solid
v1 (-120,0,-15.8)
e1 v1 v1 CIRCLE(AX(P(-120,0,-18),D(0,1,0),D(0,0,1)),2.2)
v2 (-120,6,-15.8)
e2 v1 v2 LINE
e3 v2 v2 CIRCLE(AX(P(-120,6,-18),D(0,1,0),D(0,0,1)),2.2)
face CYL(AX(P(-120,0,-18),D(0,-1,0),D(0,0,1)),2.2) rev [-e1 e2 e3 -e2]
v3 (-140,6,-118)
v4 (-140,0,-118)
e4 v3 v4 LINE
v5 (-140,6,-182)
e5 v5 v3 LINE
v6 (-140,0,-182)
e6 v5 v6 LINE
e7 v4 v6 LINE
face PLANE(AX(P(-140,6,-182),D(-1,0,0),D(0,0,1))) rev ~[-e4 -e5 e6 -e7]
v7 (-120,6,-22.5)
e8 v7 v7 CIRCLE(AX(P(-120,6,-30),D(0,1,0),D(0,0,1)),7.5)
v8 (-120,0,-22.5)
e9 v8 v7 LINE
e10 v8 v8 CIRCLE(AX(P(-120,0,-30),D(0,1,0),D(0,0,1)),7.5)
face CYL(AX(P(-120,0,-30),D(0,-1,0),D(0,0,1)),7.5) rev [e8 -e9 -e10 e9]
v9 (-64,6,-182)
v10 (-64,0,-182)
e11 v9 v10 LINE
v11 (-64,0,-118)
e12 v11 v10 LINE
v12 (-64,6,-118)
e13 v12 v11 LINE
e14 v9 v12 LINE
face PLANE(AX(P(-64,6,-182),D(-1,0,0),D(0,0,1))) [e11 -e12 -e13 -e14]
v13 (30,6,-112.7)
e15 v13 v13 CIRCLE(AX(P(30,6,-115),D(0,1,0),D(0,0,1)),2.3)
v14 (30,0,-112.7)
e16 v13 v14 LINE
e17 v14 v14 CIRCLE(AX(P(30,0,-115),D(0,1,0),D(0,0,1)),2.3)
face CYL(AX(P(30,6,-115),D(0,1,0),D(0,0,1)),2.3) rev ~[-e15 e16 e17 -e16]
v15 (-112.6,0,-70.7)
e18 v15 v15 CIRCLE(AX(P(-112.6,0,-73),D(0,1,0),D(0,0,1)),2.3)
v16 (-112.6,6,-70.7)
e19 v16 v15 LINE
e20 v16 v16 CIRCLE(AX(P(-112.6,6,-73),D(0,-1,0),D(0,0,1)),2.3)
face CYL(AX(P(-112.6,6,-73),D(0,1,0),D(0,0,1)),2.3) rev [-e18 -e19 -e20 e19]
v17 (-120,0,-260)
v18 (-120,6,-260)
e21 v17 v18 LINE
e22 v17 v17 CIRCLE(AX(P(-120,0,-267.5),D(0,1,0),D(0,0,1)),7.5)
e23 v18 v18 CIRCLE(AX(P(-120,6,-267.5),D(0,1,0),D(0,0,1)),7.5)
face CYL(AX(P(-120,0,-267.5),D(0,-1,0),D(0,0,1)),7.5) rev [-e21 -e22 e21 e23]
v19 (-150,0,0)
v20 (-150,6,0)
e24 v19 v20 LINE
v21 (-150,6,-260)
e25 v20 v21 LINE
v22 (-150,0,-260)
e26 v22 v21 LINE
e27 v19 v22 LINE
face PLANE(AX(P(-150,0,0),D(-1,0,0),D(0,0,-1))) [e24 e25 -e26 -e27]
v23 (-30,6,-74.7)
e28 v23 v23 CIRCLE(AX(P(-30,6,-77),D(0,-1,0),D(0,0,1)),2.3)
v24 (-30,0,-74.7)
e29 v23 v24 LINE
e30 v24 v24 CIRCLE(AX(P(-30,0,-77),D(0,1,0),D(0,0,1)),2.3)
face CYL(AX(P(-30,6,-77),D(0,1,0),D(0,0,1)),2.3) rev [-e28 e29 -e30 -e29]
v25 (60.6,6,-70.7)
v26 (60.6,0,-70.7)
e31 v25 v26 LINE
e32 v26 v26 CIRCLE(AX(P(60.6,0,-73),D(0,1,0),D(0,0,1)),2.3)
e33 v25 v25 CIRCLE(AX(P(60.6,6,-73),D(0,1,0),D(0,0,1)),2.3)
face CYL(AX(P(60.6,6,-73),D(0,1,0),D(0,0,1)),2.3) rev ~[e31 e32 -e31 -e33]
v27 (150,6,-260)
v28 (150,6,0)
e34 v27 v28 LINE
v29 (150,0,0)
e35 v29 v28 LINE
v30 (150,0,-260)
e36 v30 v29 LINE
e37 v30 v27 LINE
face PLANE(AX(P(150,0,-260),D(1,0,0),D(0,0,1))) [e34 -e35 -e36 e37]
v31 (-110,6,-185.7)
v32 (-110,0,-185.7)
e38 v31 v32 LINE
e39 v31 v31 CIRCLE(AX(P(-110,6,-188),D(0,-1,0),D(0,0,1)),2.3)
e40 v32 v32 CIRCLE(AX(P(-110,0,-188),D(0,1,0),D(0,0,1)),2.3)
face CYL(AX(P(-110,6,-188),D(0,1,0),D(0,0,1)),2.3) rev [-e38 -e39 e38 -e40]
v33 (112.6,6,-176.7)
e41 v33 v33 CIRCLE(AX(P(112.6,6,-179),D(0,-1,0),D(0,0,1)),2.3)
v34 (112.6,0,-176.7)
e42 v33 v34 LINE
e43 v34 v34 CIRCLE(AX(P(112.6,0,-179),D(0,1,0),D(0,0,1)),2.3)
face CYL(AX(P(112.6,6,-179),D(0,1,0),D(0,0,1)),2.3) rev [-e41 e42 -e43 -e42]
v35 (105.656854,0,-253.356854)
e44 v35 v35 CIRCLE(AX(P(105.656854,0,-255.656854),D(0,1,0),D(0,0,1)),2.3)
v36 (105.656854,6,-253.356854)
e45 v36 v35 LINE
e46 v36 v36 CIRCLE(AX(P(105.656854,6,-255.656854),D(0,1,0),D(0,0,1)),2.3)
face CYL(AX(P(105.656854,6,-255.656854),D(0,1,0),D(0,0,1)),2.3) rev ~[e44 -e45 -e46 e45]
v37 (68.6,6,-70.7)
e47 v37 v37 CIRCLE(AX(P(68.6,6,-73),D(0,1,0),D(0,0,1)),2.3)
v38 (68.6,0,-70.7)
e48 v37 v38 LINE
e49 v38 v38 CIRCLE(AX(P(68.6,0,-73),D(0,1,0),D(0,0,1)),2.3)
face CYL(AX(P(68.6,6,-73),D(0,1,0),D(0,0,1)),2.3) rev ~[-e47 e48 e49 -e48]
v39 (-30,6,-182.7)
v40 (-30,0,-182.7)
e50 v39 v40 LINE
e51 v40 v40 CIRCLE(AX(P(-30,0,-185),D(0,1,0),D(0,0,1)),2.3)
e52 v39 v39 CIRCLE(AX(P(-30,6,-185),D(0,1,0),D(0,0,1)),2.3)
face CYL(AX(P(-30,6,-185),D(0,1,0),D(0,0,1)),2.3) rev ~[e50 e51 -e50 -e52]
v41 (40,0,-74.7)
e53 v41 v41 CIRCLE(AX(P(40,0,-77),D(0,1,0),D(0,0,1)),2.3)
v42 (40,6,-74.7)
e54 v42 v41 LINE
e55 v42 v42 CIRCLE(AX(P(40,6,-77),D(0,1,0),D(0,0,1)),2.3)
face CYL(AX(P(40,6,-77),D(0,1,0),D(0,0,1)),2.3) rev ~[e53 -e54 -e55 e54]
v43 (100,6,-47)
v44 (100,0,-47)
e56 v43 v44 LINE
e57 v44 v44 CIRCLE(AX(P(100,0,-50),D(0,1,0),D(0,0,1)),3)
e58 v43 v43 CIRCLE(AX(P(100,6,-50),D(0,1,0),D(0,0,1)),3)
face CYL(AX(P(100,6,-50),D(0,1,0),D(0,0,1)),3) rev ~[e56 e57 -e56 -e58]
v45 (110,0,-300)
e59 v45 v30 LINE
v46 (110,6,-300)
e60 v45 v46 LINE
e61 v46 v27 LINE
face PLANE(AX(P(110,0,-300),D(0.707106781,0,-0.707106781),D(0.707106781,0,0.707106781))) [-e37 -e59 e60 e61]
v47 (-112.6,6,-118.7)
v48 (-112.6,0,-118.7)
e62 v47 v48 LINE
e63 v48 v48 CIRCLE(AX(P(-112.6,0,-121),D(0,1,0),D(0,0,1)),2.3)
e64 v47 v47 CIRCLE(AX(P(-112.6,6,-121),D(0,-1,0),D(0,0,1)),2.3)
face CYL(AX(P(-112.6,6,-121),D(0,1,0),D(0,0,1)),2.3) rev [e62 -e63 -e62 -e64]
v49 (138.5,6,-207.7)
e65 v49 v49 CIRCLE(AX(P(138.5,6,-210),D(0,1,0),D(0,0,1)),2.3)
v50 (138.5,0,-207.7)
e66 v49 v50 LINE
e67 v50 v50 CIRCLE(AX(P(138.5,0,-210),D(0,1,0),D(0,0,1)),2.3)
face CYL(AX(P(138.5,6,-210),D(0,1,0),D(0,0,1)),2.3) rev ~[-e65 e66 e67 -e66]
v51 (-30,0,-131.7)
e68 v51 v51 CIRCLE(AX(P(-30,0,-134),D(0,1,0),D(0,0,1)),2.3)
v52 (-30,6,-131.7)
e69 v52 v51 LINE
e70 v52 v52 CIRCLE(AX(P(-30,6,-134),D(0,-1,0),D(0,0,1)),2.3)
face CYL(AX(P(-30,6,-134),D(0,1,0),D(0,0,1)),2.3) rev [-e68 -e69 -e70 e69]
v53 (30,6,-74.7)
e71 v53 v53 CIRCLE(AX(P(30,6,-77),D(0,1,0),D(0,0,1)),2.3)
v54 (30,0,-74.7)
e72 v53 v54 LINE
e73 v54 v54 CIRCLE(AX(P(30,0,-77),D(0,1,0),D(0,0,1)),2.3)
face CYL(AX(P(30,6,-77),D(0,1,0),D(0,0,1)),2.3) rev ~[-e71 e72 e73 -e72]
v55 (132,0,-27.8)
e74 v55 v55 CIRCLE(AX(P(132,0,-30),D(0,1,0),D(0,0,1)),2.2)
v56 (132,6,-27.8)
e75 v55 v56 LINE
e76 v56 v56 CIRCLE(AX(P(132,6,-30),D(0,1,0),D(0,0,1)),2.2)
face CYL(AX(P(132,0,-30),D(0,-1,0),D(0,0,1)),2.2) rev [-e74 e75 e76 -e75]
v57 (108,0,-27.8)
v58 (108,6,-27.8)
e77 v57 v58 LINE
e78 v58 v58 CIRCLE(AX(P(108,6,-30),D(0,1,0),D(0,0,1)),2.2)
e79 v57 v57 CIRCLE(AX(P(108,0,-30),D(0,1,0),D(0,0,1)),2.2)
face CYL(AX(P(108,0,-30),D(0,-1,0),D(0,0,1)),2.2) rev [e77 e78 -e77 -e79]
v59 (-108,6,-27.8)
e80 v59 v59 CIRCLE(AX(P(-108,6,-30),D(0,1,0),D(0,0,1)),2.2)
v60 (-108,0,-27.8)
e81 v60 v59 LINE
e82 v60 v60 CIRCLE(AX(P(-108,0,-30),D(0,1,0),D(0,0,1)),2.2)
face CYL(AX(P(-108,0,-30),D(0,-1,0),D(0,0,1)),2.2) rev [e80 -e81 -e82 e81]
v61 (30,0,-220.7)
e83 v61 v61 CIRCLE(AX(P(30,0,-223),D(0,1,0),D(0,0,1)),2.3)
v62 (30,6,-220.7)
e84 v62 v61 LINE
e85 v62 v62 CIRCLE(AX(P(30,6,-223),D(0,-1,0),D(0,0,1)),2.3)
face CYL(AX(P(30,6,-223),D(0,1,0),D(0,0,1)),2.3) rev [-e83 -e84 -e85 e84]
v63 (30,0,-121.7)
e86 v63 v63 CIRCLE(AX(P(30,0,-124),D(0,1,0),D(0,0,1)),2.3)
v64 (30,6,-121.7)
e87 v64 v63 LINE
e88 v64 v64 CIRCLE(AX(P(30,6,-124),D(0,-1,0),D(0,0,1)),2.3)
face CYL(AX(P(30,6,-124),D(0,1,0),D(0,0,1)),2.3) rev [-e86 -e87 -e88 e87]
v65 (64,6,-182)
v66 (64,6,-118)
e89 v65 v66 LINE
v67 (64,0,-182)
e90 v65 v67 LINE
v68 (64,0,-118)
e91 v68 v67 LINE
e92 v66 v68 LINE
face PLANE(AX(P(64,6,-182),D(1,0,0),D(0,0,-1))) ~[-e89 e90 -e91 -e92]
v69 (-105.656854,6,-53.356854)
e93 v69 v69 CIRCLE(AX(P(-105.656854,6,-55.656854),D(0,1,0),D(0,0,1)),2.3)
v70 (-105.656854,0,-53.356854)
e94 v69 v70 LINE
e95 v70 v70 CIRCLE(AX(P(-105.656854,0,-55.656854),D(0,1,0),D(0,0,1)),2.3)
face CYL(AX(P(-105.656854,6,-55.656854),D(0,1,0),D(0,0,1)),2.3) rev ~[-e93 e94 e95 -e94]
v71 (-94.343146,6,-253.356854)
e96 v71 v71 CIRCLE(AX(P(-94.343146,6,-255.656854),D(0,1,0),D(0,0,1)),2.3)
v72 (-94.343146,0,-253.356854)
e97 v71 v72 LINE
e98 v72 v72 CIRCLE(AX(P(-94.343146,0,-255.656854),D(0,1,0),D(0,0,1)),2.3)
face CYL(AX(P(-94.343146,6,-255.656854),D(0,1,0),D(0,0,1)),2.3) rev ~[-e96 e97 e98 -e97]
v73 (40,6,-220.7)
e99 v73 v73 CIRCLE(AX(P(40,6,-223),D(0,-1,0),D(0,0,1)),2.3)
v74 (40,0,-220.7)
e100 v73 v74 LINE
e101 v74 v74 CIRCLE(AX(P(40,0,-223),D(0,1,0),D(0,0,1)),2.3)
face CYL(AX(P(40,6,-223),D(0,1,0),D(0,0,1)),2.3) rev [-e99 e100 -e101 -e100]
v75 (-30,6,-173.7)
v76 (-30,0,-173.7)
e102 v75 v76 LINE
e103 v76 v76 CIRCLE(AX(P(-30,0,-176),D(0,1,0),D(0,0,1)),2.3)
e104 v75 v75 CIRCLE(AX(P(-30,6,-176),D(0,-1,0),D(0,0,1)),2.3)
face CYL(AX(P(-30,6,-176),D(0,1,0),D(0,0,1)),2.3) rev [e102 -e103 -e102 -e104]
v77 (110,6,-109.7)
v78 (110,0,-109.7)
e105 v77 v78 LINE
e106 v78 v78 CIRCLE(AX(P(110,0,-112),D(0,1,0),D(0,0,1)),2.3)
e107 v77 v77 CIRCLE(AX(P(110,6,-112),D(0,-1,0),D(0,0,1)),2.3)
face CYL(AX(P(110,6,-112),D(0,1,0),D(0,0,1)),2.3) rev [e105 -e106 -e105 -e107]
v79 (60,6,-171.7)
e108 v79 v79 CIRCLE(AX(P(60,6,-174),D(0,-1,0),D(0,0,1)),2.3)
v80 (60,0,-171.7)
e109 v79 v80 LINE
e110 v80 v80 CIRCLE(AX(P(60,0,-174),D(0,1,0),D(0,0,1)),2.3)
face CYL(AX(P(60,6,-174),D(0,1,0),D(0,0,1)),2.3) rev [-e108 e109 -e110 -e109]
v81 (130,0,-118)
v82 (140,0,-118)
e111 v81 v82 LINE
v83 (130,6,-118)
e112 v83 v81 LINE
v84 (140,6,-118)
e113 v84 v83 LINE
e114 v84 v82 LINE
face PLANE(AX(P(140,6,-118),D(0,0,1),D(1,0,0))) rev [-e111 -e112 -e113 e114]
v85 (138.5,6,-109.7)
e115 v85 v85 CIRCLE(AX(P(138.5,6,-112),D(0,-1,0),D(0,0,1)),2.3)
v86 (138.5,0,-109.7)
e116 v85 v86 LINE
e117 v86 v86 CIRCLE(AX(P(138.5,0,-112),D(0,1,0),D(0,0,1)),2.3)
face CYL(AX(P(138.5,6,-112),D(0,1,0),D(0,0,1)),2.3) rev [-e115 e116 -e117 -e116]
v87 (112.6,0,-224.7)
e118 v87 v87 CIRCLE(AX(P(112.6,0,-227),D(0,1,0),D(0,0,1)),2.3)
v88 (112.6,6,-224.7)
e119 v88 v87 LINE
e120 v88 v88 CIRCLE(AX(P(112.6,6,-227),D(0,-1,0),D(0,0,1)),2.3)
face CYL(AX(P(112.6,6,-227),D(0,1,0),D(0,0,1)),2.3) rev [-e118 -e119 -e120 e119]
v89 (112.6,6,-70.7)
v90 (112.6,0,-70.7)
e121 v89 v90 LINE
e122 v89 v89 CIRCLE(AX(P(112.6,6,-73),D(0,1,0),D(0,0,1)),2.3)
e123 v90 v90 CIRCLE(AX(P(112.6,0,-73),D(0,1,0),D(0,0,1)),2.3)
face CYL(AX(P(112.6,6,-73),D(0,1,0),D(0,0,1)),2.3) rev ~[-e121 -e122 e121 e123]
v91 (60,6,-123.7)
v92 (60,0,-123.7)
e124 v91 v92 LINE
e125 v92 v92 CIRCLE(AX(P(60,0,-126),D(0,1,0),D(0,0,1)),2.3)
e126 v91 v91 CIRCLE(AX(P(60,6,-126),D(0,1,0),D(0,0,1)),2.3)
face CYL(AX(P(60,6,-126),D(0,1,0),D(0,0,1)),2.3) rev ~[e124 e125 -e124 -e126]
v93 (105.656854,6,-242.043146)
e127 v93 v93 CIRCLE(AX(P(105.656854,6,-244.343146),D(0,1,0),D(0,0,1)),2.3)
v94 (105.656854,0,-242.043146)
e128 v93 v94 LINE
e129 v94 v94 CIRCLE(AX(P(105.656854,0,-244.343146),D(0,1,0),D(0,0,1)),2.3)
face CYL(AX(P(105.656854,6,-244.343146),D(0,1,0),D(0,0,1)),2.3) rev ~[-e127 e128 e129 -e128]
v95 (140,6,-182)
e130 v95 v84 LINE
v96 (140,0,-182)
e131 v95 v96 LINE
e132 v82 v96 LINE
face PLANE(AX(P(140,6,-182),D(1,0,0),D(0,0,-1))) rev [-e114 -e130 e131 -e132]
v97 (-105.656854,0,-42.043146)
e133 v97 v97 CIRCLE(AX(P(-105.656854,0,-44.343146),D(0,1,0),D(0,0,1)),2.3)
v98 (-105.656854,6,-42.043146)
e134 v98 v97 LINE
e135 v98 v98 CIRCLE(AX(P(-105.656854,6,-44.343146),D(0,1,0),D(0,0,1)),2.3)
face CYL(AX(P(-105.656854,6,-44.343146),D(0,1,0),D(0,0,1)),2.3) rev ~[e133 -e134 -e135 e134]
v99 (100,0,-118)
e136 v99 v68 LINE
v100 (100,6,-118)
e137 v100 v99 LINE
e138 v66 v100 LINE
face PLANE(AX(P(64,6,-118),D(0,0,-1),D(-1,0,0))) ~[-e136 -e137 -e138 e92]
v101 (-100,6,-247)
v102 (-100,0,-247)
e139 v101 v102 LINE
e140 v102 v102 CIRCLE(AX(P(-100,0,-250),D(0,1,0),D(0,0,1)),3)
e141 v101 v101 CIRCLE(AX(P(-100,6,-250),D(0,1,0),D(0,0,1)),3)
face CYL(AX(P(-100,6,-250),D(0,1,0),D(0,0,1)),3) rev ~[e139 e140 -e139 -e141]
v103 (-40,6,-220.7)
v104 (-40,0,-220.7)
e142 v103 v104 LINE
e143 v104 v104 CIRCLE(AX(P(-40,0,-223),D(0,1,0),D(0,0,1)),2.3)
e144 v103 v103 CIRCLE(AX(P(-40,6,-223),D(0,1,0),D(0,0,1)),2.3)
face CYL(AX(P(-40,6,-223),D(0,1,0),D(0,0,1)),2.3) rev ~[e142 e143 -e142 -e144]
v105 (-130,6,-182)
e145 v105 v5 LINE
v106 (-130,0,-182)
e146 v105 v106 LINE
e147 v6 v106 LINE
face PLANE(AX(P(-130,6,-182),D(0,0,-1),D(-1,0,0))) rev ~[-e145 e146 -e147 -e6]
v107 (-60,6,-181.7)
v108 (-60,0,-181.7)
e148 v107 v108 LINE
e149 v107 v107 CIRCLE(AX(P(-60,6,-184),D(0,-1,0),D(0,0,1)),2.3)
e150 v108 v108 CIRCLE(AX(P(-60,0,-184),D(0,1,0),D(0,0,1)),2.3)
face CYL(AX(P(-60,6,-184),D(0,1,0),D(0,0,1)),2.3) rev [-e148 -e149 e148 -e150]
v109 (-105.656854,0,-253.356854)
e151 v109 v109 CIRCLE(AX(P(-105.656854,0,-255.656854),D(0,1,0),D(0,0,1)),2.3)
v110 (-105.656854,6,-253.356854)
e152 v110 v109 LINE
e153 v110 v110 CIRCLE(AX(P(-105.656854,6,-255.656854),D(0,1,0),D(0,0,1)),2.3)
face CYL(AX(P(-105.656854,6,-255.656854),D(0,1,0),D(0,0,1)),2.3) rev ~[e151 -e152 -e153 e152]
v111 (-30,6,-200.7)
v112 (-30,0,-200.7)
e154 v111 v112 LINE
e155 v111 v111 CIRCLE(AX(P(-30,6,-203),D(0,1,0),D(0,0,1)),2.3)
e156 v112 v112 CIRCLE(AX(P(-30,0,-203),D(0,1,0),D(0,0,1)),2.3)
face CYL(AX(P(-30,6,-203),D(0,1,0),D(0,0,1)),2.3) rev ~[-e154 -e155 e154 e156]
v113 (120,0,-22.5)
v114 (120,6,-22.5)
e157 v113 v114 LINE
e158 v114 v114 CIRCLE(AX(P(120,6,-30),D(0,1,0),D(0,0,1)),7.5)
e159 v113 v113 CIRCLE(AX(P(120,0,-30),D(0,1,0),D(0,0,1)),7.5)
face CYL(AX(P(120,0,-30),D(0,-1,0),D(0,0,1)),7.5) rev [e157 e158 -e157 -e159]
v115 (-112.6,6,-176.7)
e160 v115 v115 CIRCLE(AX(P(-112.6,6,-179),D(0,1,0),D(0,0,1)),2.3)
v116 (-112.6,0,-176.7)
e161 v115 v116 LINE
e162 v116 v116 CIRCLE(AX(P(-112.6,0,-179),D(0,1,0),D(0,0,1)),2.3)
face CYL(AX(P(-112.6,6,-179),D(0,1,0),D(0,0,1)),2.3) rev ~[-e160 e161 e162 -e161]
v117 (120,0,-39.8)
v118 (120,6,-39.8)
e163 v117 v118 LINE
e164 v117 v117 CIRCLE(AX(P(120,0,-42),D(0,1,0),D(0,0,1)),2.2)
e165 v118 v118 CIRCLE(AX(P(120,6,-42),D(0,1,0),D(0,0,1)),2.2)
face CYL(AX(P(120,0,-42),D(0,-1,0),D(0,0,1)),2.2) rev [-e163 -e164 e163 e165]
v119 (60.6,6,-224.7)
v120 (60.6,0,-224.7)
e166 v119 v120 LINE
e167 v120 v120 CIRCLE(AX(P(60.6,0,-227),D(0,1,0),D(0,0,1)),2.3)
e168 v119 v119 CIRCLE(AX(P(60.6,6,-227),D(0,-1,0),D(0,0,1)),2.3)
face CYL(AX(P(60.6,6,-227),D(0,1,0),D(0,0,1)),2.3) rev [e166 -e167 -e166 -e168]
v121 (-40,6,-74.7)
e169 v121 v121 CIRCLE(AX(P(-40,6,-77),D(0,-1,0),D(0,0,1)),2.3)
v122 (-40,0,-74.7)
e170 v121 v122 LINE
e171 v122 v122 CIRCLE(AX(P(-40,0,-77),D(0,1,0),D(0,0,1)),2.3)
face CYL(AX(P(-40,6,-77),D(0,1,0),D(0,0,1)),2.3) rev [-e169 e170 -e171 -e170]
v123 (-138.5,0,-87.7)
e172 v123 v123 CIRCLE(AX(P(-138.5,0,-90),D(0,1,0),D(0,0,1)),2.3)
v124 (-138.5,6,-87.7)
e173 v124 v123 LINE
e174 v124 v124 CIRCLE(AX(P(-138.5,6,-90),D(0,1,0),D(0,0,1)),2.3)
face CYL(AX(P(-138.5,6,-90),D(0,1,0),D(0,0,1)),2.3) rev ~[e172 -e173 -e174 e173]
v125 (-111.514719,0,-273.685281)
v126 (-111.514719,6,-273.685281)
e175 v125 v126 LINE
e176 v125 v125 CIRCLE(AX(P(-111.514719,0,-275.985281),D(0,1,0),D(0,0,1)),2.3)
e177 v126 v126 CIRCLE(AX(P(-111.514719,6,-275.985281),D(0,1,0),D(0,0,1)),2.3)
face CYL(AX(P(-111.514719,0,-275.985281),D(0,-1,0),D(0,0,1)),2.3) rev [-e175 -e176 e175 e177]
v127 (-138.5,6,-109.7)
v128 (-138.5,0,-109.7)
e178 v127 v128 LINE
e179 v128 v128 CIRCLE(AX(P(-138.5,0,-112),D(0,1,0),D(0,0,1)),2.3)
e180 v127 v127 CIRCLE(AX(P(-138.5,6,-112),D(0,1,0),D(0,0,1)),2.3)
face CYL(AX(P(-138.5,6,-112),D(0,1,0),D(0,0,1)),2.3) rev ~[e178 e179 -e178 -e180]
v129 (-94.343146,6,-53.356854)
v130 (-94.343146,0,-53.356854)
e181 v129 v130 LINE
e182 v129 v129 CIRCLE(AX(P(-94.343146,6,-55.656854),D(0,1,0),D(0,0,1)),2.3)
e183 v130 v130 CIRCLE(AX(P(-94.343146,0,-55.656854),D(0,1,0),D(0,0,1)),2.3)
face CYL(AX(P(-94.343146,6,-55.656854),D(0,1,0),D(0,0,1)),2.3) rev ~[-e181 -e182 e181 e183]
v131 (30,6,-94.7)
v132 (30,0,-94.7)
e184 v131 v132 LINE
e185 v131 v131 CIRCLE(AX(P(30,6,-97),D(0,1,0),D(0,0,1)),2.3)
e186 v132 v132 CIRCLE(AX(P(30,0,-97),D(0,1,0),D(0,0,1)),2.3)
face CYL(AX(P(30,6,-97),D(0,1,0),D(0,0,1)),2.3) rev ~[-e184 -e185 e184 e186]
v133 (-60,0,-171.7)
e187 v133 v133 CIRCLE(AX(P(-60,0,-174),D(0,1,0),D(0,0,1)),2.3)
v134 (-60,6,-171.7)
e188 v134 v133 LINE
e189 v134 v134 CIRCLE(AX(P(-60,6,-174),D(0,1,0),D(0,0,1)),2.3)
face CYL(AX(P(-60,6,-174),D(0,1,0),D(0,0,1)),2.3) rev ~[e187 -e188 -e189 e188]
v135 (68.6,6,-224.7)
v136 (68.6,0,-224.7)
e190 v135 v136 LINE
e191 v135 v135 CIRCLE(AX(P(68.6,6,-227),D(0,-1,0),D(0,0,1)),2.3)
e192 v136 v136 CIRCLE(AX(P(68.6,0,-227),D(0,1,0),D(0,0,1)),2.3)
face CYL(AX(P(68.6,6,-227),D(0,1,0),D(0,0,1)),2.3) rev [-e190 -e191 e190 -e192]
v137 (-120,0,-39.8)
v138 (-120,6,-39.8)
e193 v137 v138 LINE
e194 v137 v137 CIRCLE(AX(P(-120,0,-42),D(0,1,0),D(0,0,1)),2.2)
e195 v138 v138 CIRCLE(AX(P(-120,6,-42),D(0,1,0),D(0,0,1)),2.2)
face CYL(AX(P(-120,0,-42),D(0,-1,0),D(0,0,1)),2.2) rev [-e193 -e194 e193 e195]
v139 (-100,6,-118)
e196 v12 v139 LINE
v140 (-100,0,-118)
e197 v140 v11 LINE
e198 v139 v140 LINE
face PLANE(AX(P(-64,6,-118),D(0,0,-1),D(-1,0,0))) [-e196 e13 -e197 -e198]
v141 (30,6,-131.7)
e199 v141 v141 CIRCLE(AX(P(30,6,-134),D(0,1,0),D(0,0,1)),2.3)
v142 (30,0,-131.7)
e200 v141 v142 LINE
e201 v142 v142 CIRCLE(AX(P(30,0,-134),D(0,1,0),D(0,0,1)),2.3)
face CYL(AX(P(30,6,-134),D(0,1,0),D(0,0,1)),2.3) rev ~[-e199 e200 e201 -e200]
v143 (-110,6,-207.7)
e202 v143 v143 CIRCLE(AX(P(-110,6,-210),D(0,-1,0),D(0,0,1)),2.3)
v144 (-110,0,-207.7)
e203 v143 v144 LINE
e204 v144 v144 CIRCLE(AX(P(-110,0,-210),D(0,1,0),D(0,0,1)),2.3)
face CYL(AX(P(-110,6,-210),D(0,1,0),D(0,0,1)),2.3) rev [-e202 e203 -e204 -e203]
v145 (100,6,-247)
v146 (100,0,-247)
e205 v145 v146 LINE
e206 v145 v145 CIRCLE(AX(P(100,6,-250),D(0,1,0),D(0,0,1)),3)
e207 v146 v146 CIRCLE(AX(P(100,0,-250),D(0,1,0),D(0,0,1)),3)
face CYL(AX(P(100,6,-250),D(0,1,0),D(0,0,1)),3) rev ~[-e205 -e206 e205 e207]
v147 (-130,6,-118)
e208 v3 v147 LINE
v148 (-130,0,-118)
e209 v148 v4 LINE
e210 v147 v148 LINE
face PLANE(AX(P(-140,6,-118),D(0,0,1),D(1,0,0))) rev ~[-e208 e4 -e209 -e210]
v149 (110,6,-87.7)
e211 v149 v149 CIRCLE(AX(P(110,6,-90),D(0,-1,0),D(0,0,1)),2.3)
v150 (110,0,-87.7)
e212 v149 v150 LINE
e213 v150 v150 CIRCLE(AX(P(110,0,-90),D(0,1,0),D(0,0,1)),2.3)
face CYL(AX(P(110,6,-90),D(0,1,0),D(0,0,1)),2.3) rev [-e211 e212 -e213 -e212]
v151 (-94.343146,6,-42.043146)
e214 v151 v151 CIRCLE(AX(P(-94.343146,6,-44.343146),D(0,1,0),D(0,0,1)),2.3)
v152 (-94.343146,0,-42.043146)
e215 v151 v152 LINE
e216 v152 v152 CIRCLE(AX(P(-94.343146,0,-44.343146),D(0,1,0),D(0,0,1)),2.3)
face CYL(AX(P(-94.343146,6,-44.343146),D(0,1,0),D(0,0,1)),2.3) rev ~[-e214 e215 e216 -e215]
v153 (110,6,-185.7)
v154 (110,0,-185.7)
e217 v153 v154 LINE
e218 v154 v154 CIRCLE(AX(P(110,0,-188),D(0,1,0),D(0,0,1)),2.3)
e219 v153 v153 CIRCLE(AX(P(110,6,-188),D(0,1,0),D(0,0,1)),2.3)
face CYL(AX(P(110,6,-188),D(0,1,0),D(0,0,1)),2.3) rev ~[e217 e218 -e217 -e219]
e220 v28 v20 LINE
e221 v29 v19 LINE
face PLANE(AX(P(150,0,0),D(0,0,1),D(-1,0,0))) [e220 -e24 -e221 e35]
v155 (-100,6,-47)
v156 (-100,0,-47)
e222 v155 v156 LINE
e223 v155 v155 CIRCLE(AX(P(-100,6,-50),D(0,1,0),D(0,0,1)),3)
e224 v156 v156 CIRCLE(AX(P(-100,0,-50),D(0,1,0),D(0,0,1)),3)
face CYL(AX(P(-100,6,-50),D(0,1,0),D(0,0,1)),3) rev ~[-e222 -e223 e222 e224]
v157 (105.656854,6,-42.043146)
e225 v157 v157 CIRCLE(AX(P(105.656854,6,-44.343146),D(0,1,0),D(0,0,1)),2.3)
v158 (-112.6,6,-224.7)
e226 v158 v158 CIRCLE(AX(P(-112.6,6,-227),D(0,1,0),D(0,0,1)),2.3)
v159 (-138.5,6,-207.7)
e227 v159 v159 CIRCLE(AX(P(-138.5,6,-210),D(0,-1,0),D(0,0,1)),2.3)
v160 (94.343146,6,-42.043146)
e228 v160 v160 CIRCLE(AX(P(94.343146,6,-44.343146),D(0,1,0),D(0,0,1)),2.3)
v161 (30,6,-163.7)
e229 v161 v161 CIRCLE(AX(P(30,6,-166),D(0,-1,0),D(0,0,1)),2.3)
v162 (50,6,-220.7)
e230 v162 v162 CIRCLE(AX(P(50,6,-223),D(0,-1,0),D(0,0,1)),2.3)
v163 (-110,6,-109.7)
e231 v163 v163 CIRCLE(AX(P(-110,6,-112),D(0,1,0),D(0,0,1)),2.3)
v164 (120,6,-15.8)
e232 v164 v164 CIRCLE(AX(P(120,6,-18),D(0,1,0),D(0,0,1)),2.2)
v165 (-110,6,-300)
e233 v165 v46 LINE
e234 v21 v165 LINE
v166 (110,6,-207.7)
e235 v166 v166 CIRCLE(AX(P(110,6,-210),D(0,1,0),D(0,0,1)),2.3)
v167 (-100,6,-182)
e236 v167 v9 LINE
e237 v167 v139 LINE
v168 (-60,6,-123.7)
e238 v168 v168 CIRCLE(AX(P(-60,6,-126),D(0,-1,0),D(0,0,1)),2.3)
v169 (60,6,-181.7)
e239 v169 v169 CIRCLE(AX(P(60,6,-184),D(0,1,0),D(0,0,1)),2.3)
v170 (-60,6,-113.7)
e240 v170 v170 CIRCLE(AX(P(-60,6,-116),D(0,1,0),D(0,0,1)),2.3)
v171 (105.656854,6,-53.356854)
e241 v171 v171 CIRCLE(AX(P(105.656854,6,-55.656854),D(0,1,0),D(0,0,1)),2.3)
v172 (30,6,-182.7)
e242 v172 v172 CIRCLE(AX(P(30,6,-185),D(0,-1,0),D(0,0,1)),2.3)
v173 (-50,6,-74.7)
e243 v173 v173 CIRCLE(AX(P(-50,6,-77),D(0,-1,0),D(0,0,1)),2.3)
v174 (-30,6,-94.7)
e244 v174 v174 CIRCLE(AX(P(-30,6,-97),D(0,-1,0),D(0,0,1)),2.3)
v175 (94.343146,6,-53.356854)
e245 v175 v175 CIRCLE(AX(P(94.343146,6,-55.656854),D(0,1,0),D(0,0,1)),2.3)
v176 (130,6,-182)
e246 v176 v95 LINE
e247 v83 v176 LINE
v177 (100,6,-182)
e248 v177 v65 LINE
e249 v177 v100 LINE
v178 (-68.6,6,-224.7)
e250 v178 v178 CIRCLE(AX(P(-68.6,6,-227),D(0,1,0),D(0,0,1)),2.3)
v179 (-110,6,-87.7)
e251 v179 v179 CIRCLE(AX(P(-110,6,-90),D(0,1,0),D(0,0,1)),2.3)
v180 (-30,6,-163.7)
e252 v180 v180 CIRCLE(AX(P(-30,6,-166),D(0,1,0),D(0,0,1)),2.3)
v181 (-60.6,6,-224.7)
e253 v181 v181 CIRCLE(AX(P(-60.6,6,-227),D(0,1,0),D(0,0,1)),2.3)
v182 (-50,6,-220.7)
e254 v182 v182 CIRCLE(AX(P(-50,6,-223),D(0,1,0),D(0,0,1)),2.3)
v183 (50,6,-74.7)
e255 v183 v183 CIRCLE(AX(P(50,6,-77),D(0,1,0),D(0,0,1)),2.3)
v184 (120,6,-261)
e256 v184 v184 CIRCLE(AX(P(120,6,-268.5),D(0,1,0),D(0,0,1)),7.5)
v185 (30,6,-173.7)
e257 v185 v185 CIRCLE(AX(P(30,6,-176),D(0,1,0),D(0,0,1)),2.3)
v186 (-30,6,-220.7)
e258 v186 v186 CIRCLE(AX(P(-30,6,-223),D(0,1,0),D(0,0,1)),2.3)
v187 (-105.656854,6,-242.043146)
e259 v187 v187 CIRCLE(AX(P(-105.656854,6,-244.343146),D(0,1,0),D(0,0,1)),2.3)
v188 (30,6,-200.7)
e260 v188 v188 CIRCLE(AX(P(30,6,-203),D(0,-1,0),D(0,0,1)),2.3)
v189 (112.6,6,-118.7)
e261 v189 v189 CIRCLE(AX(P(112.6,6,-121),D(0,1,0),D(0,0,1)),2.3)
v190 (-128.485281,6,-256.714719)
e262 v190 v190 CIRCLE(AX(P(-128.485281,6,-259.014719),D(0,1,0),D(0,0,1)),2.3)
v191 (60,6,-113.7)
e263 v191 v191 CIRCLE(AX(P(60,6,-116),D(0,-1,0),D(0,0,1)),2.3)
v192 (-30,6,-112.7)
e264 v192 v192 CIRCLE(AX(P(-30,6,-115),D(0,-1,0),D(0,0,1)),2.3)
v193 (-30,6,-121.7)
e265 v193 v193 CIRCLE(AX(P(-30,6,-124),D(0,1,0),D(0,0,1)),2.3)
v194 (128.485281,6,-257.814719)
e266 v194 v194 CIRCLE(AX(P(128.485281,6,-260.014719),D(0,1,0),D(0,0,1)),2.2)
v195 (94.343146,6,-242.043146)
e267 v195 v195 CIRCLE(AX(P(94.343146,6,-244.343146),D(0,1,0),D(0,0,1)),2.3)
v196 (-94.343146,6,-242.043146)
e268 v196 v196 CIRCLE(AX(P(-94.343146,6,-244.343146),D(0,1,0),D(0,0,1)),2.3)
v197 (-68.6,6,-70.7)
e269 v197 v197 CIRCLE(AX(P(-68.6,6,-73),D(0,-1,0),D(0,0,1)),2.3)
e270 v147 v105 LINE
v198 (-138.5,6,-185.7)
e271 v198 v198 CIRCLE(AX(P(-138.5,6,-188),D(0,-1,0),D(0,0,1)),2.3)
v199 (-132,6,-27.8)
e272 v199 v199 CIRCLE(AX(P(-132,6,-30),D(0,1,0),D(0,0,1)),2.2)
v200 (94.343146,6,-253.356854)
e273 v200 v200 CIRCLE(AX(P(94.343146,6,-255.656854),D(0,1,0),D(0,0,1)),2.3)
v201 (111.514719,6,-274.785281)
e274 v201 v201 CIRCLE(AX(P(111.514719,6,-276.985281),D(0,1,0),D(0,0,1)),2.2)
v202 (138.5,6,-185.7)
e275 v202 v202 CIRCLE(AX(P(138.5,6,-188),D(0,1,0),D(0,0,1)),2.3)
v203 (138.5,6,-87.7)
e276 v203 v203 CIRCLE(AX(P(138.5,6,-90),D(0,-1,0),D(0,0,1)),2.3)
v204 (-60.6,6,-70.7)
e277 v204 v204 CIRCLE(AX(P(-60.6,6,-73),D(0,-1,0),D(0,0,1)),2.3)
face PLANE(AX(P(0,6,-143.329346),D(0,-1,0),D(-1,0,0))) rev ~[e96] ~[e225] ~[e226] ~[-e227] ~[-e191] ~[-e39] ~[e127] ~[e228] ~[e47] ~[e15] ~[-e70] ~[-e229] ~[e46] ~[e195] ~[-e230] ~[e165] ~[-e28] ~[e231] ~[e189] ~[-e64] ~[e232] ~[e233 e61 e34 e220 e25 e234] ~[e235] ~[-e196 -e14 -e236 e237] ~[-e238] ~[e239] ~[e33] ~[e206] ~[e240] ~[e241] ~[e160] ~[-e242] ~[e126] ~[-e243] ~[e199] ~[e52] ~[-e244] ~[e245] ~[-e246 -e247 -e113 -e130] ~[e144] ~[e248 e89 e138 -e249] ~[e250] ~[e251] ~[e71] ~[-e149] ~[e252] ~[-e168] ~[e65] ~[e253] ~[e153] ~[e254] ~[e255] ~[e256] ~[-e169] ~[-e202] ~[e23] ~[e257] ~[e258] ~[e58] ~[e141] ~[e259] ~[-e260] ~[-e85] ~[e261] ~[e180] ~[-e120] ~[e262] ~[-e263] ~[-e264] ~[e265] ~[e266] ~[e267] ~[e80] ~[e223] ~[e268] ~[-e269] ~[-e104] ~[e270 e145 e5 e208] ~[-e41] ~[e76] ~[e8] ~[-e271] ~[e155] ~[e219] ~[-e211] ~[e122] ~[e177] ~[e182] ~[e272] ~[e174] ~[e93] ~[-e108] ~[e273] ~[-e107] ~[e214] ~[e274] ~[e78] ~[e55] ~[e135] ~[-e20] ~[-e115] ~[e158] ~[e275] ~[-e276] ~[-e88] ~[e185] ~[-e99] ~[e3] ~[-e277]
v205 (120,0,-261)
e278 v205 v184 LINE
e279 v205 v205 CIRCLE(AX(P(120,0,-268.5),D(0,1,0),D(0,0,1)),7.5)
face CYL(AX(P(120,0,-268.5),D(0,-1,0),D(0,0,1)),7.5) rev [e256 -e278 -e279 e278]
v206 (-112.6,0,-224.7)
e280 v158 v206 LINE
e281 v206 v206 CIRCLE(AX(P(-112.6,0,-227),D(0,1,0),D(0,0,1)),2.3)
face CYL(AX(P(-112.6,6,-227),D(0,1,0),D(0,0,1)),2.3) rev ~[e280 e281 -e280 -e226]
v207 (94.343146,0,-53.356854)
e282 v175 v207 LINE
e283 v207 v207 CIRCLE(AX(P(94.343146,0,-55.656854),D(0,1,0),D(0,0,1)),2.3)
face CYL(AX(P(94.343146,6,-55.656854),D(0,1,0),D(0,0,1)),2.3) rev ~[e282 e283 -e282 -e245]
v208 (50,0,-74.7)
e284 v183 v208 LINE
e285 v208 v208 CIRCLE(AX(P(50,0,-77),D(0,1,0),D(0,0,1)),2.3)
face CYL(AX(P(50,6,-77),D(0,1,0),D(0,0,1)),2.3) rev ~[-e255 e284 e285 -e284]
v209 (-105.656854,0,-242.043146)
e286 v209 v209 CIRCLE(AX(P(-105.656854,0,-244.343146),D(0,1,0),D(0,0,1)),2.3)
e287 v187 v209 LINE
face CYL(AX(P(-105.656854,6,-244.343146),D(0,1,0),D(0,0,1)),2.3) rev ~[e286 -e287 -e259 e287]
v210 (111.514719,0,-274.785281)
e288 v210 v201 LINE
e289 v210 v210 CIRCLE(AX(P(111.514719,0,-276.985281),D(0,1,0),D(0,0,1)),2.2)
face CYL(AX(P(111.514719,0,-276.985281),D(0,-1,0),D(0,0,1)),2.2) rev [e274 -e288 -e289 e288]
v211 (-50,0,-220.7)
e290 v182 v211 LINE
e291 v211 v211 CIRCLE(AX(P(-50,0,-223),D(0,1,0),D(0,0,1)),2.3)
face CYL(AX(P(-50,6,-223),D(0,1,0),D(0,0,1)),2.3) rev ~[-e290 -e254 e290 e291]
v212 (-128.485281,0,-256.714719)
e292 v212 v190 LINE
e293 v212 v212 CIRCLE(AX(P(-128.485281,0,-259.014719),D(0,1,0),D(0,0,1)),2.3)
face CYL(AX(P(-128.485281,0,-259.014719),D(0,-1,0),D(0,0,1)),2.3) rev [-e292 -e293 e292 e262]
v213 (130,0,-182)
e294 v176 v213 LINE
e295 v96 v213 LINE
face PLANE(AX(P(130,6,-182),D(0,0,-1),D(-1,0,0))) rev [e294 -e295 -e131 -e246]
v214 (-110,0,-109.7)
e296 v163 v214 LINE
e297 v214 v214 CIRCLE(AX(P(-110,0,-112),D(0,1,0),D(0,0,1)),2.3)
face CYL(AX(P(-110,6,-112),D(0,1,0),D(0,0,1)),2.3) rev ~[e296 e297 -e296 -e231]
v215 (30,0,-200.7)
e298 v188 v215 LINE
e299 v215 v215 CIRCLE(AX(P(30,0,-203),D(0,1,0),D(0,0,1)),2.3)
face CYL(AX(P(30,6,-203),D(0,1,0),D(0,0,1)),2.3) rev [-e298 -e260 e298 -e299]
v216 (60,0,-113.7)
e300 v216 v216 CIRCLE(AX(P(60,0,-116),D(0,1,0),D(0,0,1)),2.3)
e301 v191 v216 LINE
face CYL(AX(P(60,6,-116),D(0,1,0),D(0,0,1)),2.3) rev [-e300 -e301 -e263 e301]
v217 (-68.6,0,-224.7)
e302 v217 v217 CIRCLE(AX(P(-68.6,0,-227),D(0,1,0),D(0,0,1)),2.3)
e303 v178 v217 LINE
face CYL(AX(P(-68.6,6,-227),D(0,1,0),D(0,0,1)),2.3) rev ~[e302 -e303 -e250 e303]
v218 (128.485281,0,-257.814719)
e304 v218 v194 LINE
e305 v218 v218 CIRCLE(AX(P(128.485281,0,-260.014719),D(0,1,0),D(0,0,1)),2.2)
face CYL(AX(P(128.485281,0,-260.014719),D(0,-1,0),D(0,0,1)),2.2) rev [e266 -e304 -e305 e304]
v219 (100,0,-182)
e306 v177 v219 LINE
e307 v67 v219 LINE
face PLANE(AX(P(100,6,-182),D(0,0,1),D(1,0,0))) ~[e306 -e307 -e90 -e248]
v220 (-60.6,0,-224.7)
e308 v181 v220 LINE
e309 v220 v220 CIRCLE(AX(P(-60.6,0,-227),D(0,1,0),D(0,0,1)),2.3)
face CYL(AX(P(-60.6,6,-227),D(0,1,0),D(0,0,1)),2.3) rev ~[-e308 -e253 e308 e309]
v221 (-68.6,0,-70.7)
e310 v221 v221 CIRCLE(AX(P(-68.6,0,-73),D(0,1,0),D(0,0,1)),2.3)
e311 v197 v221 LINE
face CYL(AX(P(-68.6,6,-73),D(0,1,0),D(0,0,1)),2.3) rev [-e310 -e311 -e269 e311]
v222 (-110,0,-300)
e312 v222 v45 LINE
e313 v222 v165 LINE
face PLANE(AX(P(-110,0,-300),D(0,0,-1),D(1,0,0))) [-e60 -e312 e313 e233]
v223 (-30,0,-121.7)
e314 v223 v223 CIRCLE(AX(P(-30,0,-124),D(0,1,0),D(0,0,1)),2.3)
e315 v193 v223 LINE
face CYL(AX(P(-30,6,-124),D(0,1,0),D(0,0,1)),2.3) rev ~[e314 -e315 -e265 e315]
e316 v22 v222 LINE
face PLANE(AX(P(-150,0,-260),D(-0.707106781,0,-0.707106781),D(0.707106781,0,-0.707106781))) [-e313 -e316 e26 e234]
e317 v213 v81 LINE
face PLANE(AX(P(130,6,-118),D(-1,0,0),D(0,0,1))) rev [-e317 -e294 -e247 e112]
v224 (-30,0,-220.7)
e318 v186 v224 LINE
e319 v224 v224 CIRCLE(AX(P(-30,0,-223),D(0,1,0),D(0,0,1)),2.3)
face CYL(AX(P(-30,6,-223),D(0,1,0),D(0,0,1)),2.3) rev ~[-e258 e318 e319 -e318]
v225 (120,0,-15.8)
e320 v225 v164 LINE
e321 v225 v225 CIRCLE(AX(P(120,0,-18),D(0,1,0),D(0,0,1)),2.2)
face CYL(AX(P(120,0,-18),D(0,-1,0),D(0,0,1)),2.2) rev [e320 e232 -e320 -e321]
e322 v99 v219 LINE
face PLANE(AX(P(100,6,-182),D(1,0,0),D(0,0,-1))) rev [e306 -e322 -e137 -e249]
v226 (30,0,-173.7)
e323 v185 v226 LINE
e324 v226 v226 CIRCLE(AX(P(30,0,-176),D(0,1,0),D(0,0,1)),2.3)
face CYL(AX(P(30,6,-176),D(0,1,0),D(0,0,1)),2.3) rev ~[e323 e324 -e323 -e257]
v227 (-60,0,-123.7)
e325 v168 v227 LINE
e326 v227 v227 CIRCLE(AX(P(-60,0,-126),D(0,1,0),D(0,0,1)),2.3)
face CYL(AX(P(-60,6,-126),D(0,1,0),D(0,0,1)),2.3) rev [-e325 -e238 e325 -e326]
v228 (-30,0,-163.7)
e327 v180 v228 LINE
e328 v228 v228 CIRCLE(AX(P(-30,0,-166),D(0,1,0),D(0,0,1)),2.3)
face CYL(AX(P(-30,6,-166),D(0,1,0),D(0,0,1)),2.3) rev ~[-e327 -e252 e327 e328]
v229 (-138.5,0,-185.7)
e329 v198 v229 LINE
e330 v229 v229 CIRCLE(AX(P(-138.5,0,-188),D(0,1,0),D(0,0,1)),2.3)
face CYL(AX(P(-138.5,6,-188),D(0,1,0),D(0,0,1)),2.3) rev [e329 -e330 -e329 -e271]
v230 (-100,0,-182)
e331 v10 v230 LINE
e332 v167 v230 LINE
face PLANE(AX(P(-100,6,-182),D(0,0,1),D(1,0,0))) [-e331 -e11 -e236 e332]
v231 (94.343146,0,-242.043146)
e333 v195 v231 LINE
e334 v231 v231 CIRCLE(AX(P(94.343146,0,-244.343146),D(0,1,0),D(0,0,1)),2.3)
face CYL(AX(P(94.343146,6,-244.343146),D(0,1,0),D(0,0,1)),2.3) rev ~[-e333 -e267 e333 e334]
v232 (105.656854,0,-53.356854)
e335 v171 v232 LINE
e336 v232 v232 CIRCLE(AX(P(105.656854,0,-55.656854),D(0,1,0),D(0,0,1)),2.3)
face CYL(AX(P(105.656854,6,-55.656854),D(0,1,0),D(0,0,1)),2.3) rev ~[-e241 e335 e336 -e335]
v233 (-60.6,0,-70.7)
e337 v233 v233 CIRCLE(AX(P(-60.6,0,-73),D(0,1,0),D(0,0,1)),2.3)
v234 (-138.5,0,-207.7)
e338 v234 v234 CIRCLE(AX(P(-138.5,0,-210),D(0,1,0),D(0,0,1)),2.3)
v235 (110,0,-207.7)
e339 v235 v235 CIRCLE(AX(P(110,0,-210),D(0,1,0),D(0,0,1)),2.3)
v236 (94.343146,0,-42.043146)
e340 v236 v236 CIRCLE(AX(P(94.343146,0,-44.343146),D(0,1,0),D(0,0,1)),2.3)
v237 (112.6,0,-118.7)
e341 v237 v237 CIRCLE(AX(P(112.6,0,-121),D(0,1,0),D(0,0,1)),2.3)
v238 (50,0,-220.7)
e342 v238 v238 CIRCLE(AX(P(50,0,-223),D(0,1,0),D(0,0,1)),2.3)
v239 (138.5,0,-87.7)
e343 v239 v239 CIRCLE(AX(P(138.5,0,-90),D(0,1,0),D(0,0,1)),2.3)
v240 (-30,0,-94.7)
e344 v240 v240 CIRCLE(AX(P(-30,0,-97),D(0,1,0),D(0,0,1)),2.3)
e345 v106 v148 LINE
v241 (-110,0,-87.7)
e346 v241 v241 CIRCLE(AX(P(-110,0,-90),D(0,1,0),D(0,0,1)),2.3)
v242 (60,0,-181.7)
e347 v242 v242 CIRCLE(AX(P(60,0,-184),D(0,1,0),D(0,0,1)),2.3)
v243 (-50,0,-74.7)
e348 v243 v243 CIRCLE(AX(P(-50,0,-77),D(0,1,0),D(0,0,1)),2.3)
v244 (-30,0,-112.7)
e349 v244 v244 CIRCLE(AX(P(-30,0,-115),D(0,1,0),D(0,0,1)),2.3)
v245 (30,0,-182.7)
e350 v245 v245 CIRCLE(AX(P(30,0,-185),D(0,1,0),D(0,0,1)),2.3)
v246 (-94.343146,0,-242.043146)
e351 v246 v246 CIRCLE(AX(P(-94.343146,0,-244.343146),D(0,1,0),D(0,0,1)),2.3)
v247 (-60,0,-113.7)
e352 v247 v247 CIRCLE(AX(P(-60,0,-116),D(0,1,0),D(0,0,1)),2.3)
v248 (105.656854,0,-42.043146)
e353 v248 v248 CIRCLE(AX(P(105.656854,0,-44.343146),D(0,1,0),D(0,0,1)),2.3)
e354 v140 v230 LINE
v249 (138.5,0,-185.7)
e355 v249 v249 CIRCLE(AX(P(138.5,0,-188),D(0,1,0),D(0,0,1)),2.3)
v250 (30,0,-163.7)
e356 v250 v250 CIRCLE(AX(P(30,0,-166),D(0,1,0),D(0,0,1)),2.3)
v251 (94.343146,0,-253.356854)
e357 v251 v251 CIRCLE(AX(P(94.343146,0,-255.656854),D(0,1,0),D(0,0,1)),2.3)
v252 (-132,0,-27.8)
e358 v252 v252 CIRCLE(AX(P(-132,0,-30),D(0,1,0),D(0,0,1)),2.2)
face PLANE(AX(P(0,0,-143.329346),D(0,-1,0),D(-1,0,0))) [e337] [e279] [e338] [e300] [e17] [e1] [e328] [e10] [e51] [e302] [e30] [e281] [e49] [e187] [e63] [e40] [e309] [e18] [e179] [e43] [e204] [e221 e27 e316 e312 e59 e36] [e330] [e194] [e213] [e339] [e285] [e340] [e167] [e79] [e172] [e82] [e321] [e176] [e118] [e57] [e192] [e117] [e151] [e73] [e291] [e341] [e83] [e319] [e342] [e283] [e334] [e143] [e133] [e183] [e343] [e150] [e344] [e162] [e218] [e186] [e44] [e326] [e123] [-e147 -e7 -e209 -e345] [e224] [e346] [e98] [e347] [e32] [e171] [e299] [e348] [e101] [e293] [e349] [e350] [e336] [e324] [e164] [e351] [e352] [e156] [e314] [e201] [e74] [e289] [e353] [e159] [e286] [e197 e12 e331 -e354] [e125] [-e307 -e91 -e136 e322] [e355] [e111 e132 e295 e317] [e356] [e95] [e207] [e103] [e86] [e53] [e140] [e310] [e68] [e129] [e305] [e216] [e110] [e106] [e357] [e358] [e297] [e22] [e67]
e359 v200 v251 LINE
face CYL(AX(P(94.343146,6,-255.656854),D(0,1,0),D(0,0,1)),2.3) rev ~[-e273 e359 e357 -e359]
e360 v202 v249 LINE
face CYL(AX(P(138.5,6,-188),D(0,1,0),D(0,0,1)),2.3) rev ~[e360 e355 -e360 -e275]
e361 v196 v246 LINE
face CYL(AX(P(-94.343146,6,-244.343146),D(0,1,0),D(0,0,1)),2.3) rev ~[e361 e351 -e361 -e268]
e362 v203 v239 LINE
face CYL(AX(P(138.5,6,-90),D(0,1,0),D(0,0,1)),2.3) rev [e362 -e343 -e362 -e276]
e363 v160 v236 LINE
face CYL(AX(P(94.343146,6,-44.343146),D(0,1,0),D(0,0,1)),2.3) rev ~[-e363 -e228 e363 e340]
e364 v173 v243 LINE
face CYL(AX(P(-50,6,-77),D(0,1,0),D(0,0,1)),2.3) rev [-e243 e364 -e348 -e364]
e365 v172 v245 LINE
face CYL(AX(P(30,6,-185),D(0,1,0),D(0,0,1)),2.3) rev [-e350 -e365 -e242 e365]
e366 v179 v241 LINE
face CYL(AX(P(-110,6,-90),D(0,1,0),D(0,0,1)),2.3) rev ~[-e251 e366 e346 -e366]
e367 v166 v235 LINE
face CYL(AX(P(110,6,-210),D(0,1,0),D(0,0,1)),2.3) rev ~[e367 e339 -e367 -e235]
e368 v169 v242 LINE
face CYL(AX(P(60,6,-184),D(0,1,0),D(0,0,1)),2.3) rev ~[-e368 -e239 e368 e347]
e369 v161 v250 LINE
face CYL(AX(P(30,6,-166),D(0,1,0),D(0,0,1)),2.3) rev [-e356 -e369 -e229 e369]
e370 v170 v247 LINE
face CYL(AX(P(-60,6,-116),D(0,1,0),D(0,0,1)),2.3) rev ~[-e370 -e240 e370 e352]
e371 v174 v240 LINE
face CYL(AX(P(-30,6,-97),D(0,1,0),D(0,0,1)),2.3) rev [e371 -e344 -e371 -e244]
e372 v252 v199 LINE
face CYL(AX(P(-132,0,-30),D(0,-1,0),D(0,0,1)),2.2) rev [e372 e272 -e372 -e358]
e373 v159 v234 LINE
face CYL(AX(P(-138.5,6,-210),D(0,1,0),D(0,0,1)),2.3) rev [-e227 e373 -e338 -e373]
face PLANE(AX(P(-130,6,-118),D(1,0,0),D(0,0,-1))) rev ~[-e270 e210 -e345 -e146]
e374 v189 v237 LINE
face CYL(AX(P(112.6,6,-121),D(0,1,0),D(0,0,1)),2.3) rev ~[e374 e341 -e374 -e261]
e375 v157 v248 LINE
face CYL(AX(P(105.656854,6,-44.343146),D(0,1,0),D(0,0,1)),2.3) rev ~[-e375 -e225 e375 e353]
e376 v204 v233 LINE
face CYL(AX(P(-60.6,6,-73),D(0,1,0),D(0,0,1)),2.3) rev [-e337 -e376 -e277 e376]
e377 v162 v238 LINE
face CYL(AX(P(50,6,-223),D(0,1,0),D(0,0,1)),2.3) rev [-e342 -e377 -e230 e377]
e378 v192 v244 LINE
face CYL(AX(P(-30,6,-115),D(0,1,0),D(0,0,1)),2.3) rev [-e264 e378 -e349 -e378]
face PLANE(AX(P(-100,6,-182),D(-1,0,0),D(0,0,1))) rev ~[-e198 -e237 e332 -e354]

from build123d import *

# Parameters (mm, degrees)
ESQUISSE1_R              = 7.5
ESQUISSE1_R_2            = 2.3
ESQUISSE1_R_3            = 2.2
BOSS_EXTRU_1_DEPTH       = 6
ENL_V_MAT_EXTRU_9_DEPTH  = 10.5
ESQUISSE6_R              = 2.3
ENL_V_MAT_EXTRU_10_DEPTH = 50
ENL_V_MAT_EXTRU_11_DEPTH = 50
ESQUISSE9_R              = 3
ESQUISSE9_R_2            = 2.3
ENL_V_MAT_EXTRU_12_DEPTH = 35
ESQUISSE3_R              = 2.3
ENL_V_MAT_EXTRU_13_DEPTH = 35
ESQUISSE10_R             = 2.3
ENL_V_MAT_EXTRU_14_DEPTH = 10
ESQUISSE11_R             = 2.3
ENL_V_MAT_EXTRU_15_DEPTH = 10


with BuildPart() as part:
    # Esquisse1 → Boss.-Extru.1 (new body)
    with BuildSketch(Plane(origin=(0, 0, 0), x_dir=(1, 0, 0), z_dir=(0, 1, 0))):
        Polygon((-150, 0), (-150, 260), (-110, 300), (110, 300), (150, 260), (150, 0), align=None)
        with Locations(Location((-120, 30, 0), (0, 0, 270))):
            Circle(ESQUISSE1_R, mode=Mode.SUBTRACT)
        with Locations(Location((-120, 267.5, 0), (0, 0, 270))):
            Circle(ESQUISSE1_R, mode=Mode.SUBTRACT)
        with Locations(Location((120, 268.5, 0), (0, 0, 270))):
            Circle(ESQUISSE1_R, mode=Mode.SUBTRACT)
        with Locations(Location((-111.514718626, 275.985281374, 0), (0, 0, 270))):
            Circle(ESQUISSE1_R_2, mode=Mode.SUBTRACT)
        with Locations(Location((-128.485281374, 259.014718626, 0), (0, 0, 270))):
            Circle(ESQUISSE1_R_2, mode=Mode.SUBTRACT)
        with Locations(Location((111.514718626, 276.985281374, 0), (0, 0, 270))):
            Circle(ESQUISSE1_R_3, mode=Mode.SUBTRACT)
        with Locations(Location((128.485281374, 260.014718626, 0), (0, 0, 270))):
            Circle(ESQUISSE1_R_3, mode=Mode.SUBTRACT)
        with Locations(Location((120, 30, 0), (0, 0, 270))):
            Circle(ESQUISSE1_R, mode=Mode.SUBTRACT)
        with Locations(Location((120, 42, 0), (0, 0, 270))):
            Circle(ESQUISSE1_R_3, mode=Mode.SUBTRACT)
        with Locations(Location((-120, 42, 0), (0, 0, 270))):
            Circle(ESQUISSE1_R_3, mode=Mode.SUBTRACT)
        with Locations(Location((-120, 18, 0), (0, 0, 270))):
            Circle(ESQUISSE1_R_3, mode=Mode.SUBTRACT)
        with Locations(Location((-132, 30, 0), (0, 0, 270))):
            Circle(ESQUISSE1_R_3, mode=Mode.SUBTRACT)
        with Locations(Location((-108, 30, 0), (0, 0, 270))):
            Circle(ESQUISSE1_R_3, mode=Mode.SUBTRACT)
        with Locations(Location((108, 30, 0), (0, 0, 270))):
            Circle(ESQUISSE1_R_3, mode=Mode.SUBTRACT)
        with Locations(Location((132, 30, 0), (0, 0, 270))):
            Circle(ESQUISSE1_R_3, mode=Mode.SUBTRACT)
        with Locations(Location((120, 18, 0), (0, 0, 270))):
            Circle(ESQUISSE1_R_3, mode=Mode.SUBTRACT)
    extrude(amount=BOSS_EXTRU_1_DEPTH)

    # Esquisse7 → Enlèv. mat.-Extru.9 (cut)
    with BuildSketch(Plane(origin=(0, 6, 0), x_dir=(1, 0, 0), z_dir=(0, 1, 0))):
        Polygon((-130, 150), (-130, 182), (-140, 182), (-140, 118), (-130, 118), align=None)
    enl_v_mat_extru_9 = extrude(amount=-ENL_V_MAT_EXTRU_9_DEPTH, mode=Mode.SUBTRACT)

    # Esquisse6 → Enlèv. mat.-Extru.10 (cut)
    with BuildSketch(Plane(origin=(0, 6, 0), x_dir=(1, 0, 0), z_dir=(0, 1, 0))):
        with Locations(Location((110, 210, 0), (0, 0, 270))):
            Circle(ESQUISSE6_R)
        with Locations(Location((138.5, 210, 0), (0, 0, 270))):
            Circle(ESQUISSE6_R)
        with Locations(Location((138.5, 188, 0), (0, 0, 270))):
            Circle(ESQUISSE6_R)
        with Locations(Location((110, 188, 0), (0, 0, 270))):
            Circle(ESQUISSE6_R)
        with Locations(Location((-138.5, 90, 0), (0, 0, 270))):
            Circle(ESQUISSE6_R)
        with Locations(Location((-138.5, 112, 0), (0, 0, 270))):
            Circle(ESQUISSE6_R)
        with Locations(Location((-110, 112, 0), (0, 0, 270))):
            Circle(ESQUISSE6_R)
        with Locations(Location((-110, 90, 0), (0, 0, 270))):
            Circle(ESQUISSE6_R)
    enl_v_mat_extru_10 = extrude(amount=-ENL_V_MAT_EXTRU_10_DEPTH, mode=Mode.SUBTRACT)

    # Esquisse4 → Enlèv. mat.-Extru.11 (cut)
    with BuildSketch(Plane(origin=(0, 6, 0), x_dir=(1, 0, 0), z_dir=(0, 1, 0))):
        Polygon((-100, 150), (-100, 182), (-64, 182), (-64, 118), (-100, 118), align=None)
    enl_v_mat_extru_11 = extrude(amount=-ENL_V_MAT_EXTRU_11_DEPTH, mode=Mode.SUBTRACT)

    # Symétrie1: Enlèv. mat.-Extru.9 across plane
    add(enl_v_mat_extru_9.mirror(Plane(origin=(0, 0, 0), x_dir=(0, 0, 1), z_dir=(1, 0, 0))), mode=Mode.SUBTRACT)

    # Symétrie2: Enlèv. mat.-Extru.11 across plane
    add(enl_v_mat_extru_11.mirror(Plane(origin=(0, 0, 0), x_dir=(0, 0, 1), z_dir=(1, 0, 0))), mode=Mode.SUBTRACT)

    # Symétrie3: Enlèv. mat.-Extru.10 across plane
    add(enl_v_mat_extru_10.mirror(Plane(origin=(0, 0, 0), x_dir=(0, 0, 1), z_dir=(1, 0, 0))), mode=Mode.SUBTRACT)

    # Esquisse9 → Enlèv. mat.-Extru.12 (cut)
    with BuildSketch(Plane(origin=(0, 6, 0), x_dir=(1, 0, 0), z_dir=(0, 1, 0))):
        with Locations(Location((-100, 50, 0), (0, 0, 270))):
            Circle(ESQUISSE9_R)
        with Locations(Location((100, 50, 0), (0, 0, 270))):
            Circle(ESQUISSE9_R)
        with Locations(Location((100, 250, 0), (0, 0, 270))):
            Circle(ESQUISSE9_R)
        with Locations(Location((-100, 250, 0), (0, 0, 270))):
            Circle(ESQUISSE9_R)
        with Locations(Location((-105.656854249, 255.656854249, 0), (0, 0, 270))):
            Circle(ESQUISSE9_R_2)
        with Locations(Location((-94.343145751, 244.343145751, 0), (0, 0, 270))):
            Circle(ESQUISSE9_R_2)
        with Locations(Location((94.343145751, 244.343145751, 0), (0, 0, 270))):
            Circle(ESQUISSE9_R_2)
        with Locations(Location((105.656854249, 255.656854249, 0), (0, 0, 270))):
            Circle(ESQUISSE9_R_2)
        with Locations(Location((94.343145751, 55.656854249, 0), (0, 0, 270))):
            Circle(ESQUISSE9_R_2)
        with Locations(Location((105.656854249, 44.343145751, 0), (0, 0, 270))):
            Circle(ESQUISSE9_R_2)
        with Locations(Location((-105.656854249, 44.343145751, 0), (0, 0, 270))):
            Circle(ESQUISSE9_R_2)
        with Locations(Location((-94.343145751, 55.656854249, 0), (0, 0, 270))):
            Circle(ESQUISSE9_R_2)
        with Locations(Location((-105.656854249, 55.656854249, 0), (0, 0, 270))):
            Circle(ESQUISSE9_R_2)
        with Locations(Location((-94.343145751, 44.343145751, 0), (0, 0, 270))):
            Circle(ESQUISSE9_R_2)
        with Locations(Location((105.656854249, 55.656854249, 0), (0, 0, 270))):
            Circle(ESQUISSE9_R_2)
        with Locations(Location((94.343145751, 44.343145751, 0), (0, 0, 270))):
            Circle(ESQUISSE9_R_2)
        with Locations(Location((105.656854249, 244.343145751, 0), (0, 0, 270))):
            Circle(ESQUISSE9_R_2)
        with Locations(Location((94.343145751, 255.656854249, 0), (0, 0, 270))):
            Circle(ESQUISSE9_R_2)
        with Locations(Location((-94.343145751, 255.656854249, 0), (0, 0, 270))):
            Circle(ESQUISSE9_R_2)
        with Locations(Location((-105.656854249, 244.343145751, 0), (0, 0, 270))):
            Circle(ESQUISSE9_R_2)
    extrude(amount=-ENL_V_MAT_EXTRU_12_DEPTH, mode=Mode.SUBTRACT)

    # Esquisse3 → Enlèv. mat.-Extru.13 (cut)
    with BuildSketch(Plane(origin=(0, 6, 0), x_dir=(1, 0, 0), z_dir=(0, 1, 0))):
        with Locations(Location((-60, 174, 0), (0, 0, 270))):
            Circle(ESQUISSE3_R)
        with Locations(Location((-60, 116, 0), (0, 0, 270))):
            Circle(ESQUISSE3_R)
        with Locations(Location((-30, 166, 0), (0, 0, 270))):
            Circle(ESQUISSE3_R)
        with Locations(Location((-30, 124, 0), (0, 0, 270))):
            Circle(ESQUISSE3_R)
        with Locations(Location((60, 184, 0), (0, 0, 270))):
            Circle(ESQUISSE3_R)
        with Locations(Location((30, 176, 0), (0, 0, 270))):
            Circle(ESQUISSE3_R)
        with Locations(Location((30, 134, 0), (0, 0, 270))):
            Circle(ESQUISSE3_R)
        with Locations(Location((60, 126, 0), (0, 0, 270))):
            Circle(ESQUISSE3_R)
    enl_v_mat_extru_13 = extrude(amount=-ENL_V_MAT_EXTRU_13_DEPTH, mode=Mode.SUBTRACT)

    # Symétrie4: Enlèv. mat.-Extru.13 across plane
    add(enl_v_mat_extru_13.mirror(Plane(origin=(0, 0, 0), x_dir=(0, 0, 1), z_dir=(1, 0, 0))), mode=Mode.SUBTRACT)

    # Esquisse10 → Enlèv. mat.-Extru.14 (cut)
    with BuildSketch(Plane(origin=(0, 6, 0), x_dir=(1, 0, 0), z_dir=(0, 1, 0))):
        with Locations(Location((-112.6, 227, 0), (0, 0, 270))):
            Circle(ESQUISSE10_R)
        with Locations(Location((-68.6, 227, 0), (0, 0, 270))):
            Circle(ESQUISSE10_R)
        with Locations(Location((-60.6, 227, 0), (0, 0, 270))):
            Circle(ESQUISSE10_R)
        with Locations(Location((112.6, 73, 0), (0, 0, 270))):
            Circle(ESQUISSE10_R)
        with Locations(Location((68.6, 73, 0), (0, 0, 270))):
            Circle(ESQUISSE10_R)
        with Locations(Location((60.6, 73, 0), (0, 0, 270))):
            Circle(ESQUISSE10_R)
        with Locations(Location((-112.6, 179, 0), (0, 0, 270))):
            Circle(ESQUISSE10_R)
        with Locations(Location((112.6, 121, 0), (0, 0, 270))):
            Circle(ESQUISSE10_R)
    enl_v_mat_extru_14 = extrude(amount=-ENL_V_MAT_EXTRU_14_DEPTH, mode=Mode.SUBTRACT)

    # Symétrie5: Enlèv. mat.-Extru.14 across plane
    add(enl_v_mat_extru_14.mirror(Plane(origin=(0, 0, 0), x_dir=(0, 0, 1), z_dir=(1, 0, 0))), mode=Mode.SUBTRACT)

    # Esquisse11 → Enlèv. mat.-Extru.15 (cut)
    with BuildSketch(Plane(origin=(0, 6, 0), x_dir=(1, 0, 0), z_dir=(0, 1, 0))):
        with Locations(Location((30, 97, 0), (0, 0, 270))):
            Circle(ESQUISSE11_R)
        with Locations(Location((30, 77, 0), (0, 0, 270))):
            Circle(ESQUISSE11_R)
        with Locations(Location((-30, 203, 0), (0, 0, 270))):
            Circle(ESQUISSE11_R)
        with Locations(Location((-30, 223, 0), (0, 0, 270))):
            Circle(ESQUISSE11_R)
        with Locations(Location((-30, 185, 0), (0, 0, 270))):
            Circle(ESQUISSE11_R)
        with Locations(Location((30, 115, 0), (0, 0, 270))):
            Circle(ESQUISSE11_R)
        with Locations(Location((-40, 223, 0), (0, 0, 270))):
            Circle(ESQUISSE11_R)
        with Locations(Location((-50, 223, 0), (0, 0, 270))):
            Circle(ESQUISSE11_R)
        with Locations(Location((40, 77, 0), (0, 0, 270))):
            Circle(ESQUISSE11_R)
        with Locations(Location((50, 77, 0), (0, 0, 270))):
            Circle(ESQUISSE11_R)
    enl_v_mat_extru_15 = extrude(amount=-ENL_V_MAT_EXTRU_15_DEPTH, mode=Mode.SUBTRACT)

    # Symétrie6: Enlèv. mat.-Extru.15 across plane
    add(enl_v_mat_extru_15.mirror(Plane(origin=(0, 0, 0), x_dir=(0, 0, 1), z_dir=(1, 0, 0))), mode=Mode.SUBTRACT)


solid = part.part
